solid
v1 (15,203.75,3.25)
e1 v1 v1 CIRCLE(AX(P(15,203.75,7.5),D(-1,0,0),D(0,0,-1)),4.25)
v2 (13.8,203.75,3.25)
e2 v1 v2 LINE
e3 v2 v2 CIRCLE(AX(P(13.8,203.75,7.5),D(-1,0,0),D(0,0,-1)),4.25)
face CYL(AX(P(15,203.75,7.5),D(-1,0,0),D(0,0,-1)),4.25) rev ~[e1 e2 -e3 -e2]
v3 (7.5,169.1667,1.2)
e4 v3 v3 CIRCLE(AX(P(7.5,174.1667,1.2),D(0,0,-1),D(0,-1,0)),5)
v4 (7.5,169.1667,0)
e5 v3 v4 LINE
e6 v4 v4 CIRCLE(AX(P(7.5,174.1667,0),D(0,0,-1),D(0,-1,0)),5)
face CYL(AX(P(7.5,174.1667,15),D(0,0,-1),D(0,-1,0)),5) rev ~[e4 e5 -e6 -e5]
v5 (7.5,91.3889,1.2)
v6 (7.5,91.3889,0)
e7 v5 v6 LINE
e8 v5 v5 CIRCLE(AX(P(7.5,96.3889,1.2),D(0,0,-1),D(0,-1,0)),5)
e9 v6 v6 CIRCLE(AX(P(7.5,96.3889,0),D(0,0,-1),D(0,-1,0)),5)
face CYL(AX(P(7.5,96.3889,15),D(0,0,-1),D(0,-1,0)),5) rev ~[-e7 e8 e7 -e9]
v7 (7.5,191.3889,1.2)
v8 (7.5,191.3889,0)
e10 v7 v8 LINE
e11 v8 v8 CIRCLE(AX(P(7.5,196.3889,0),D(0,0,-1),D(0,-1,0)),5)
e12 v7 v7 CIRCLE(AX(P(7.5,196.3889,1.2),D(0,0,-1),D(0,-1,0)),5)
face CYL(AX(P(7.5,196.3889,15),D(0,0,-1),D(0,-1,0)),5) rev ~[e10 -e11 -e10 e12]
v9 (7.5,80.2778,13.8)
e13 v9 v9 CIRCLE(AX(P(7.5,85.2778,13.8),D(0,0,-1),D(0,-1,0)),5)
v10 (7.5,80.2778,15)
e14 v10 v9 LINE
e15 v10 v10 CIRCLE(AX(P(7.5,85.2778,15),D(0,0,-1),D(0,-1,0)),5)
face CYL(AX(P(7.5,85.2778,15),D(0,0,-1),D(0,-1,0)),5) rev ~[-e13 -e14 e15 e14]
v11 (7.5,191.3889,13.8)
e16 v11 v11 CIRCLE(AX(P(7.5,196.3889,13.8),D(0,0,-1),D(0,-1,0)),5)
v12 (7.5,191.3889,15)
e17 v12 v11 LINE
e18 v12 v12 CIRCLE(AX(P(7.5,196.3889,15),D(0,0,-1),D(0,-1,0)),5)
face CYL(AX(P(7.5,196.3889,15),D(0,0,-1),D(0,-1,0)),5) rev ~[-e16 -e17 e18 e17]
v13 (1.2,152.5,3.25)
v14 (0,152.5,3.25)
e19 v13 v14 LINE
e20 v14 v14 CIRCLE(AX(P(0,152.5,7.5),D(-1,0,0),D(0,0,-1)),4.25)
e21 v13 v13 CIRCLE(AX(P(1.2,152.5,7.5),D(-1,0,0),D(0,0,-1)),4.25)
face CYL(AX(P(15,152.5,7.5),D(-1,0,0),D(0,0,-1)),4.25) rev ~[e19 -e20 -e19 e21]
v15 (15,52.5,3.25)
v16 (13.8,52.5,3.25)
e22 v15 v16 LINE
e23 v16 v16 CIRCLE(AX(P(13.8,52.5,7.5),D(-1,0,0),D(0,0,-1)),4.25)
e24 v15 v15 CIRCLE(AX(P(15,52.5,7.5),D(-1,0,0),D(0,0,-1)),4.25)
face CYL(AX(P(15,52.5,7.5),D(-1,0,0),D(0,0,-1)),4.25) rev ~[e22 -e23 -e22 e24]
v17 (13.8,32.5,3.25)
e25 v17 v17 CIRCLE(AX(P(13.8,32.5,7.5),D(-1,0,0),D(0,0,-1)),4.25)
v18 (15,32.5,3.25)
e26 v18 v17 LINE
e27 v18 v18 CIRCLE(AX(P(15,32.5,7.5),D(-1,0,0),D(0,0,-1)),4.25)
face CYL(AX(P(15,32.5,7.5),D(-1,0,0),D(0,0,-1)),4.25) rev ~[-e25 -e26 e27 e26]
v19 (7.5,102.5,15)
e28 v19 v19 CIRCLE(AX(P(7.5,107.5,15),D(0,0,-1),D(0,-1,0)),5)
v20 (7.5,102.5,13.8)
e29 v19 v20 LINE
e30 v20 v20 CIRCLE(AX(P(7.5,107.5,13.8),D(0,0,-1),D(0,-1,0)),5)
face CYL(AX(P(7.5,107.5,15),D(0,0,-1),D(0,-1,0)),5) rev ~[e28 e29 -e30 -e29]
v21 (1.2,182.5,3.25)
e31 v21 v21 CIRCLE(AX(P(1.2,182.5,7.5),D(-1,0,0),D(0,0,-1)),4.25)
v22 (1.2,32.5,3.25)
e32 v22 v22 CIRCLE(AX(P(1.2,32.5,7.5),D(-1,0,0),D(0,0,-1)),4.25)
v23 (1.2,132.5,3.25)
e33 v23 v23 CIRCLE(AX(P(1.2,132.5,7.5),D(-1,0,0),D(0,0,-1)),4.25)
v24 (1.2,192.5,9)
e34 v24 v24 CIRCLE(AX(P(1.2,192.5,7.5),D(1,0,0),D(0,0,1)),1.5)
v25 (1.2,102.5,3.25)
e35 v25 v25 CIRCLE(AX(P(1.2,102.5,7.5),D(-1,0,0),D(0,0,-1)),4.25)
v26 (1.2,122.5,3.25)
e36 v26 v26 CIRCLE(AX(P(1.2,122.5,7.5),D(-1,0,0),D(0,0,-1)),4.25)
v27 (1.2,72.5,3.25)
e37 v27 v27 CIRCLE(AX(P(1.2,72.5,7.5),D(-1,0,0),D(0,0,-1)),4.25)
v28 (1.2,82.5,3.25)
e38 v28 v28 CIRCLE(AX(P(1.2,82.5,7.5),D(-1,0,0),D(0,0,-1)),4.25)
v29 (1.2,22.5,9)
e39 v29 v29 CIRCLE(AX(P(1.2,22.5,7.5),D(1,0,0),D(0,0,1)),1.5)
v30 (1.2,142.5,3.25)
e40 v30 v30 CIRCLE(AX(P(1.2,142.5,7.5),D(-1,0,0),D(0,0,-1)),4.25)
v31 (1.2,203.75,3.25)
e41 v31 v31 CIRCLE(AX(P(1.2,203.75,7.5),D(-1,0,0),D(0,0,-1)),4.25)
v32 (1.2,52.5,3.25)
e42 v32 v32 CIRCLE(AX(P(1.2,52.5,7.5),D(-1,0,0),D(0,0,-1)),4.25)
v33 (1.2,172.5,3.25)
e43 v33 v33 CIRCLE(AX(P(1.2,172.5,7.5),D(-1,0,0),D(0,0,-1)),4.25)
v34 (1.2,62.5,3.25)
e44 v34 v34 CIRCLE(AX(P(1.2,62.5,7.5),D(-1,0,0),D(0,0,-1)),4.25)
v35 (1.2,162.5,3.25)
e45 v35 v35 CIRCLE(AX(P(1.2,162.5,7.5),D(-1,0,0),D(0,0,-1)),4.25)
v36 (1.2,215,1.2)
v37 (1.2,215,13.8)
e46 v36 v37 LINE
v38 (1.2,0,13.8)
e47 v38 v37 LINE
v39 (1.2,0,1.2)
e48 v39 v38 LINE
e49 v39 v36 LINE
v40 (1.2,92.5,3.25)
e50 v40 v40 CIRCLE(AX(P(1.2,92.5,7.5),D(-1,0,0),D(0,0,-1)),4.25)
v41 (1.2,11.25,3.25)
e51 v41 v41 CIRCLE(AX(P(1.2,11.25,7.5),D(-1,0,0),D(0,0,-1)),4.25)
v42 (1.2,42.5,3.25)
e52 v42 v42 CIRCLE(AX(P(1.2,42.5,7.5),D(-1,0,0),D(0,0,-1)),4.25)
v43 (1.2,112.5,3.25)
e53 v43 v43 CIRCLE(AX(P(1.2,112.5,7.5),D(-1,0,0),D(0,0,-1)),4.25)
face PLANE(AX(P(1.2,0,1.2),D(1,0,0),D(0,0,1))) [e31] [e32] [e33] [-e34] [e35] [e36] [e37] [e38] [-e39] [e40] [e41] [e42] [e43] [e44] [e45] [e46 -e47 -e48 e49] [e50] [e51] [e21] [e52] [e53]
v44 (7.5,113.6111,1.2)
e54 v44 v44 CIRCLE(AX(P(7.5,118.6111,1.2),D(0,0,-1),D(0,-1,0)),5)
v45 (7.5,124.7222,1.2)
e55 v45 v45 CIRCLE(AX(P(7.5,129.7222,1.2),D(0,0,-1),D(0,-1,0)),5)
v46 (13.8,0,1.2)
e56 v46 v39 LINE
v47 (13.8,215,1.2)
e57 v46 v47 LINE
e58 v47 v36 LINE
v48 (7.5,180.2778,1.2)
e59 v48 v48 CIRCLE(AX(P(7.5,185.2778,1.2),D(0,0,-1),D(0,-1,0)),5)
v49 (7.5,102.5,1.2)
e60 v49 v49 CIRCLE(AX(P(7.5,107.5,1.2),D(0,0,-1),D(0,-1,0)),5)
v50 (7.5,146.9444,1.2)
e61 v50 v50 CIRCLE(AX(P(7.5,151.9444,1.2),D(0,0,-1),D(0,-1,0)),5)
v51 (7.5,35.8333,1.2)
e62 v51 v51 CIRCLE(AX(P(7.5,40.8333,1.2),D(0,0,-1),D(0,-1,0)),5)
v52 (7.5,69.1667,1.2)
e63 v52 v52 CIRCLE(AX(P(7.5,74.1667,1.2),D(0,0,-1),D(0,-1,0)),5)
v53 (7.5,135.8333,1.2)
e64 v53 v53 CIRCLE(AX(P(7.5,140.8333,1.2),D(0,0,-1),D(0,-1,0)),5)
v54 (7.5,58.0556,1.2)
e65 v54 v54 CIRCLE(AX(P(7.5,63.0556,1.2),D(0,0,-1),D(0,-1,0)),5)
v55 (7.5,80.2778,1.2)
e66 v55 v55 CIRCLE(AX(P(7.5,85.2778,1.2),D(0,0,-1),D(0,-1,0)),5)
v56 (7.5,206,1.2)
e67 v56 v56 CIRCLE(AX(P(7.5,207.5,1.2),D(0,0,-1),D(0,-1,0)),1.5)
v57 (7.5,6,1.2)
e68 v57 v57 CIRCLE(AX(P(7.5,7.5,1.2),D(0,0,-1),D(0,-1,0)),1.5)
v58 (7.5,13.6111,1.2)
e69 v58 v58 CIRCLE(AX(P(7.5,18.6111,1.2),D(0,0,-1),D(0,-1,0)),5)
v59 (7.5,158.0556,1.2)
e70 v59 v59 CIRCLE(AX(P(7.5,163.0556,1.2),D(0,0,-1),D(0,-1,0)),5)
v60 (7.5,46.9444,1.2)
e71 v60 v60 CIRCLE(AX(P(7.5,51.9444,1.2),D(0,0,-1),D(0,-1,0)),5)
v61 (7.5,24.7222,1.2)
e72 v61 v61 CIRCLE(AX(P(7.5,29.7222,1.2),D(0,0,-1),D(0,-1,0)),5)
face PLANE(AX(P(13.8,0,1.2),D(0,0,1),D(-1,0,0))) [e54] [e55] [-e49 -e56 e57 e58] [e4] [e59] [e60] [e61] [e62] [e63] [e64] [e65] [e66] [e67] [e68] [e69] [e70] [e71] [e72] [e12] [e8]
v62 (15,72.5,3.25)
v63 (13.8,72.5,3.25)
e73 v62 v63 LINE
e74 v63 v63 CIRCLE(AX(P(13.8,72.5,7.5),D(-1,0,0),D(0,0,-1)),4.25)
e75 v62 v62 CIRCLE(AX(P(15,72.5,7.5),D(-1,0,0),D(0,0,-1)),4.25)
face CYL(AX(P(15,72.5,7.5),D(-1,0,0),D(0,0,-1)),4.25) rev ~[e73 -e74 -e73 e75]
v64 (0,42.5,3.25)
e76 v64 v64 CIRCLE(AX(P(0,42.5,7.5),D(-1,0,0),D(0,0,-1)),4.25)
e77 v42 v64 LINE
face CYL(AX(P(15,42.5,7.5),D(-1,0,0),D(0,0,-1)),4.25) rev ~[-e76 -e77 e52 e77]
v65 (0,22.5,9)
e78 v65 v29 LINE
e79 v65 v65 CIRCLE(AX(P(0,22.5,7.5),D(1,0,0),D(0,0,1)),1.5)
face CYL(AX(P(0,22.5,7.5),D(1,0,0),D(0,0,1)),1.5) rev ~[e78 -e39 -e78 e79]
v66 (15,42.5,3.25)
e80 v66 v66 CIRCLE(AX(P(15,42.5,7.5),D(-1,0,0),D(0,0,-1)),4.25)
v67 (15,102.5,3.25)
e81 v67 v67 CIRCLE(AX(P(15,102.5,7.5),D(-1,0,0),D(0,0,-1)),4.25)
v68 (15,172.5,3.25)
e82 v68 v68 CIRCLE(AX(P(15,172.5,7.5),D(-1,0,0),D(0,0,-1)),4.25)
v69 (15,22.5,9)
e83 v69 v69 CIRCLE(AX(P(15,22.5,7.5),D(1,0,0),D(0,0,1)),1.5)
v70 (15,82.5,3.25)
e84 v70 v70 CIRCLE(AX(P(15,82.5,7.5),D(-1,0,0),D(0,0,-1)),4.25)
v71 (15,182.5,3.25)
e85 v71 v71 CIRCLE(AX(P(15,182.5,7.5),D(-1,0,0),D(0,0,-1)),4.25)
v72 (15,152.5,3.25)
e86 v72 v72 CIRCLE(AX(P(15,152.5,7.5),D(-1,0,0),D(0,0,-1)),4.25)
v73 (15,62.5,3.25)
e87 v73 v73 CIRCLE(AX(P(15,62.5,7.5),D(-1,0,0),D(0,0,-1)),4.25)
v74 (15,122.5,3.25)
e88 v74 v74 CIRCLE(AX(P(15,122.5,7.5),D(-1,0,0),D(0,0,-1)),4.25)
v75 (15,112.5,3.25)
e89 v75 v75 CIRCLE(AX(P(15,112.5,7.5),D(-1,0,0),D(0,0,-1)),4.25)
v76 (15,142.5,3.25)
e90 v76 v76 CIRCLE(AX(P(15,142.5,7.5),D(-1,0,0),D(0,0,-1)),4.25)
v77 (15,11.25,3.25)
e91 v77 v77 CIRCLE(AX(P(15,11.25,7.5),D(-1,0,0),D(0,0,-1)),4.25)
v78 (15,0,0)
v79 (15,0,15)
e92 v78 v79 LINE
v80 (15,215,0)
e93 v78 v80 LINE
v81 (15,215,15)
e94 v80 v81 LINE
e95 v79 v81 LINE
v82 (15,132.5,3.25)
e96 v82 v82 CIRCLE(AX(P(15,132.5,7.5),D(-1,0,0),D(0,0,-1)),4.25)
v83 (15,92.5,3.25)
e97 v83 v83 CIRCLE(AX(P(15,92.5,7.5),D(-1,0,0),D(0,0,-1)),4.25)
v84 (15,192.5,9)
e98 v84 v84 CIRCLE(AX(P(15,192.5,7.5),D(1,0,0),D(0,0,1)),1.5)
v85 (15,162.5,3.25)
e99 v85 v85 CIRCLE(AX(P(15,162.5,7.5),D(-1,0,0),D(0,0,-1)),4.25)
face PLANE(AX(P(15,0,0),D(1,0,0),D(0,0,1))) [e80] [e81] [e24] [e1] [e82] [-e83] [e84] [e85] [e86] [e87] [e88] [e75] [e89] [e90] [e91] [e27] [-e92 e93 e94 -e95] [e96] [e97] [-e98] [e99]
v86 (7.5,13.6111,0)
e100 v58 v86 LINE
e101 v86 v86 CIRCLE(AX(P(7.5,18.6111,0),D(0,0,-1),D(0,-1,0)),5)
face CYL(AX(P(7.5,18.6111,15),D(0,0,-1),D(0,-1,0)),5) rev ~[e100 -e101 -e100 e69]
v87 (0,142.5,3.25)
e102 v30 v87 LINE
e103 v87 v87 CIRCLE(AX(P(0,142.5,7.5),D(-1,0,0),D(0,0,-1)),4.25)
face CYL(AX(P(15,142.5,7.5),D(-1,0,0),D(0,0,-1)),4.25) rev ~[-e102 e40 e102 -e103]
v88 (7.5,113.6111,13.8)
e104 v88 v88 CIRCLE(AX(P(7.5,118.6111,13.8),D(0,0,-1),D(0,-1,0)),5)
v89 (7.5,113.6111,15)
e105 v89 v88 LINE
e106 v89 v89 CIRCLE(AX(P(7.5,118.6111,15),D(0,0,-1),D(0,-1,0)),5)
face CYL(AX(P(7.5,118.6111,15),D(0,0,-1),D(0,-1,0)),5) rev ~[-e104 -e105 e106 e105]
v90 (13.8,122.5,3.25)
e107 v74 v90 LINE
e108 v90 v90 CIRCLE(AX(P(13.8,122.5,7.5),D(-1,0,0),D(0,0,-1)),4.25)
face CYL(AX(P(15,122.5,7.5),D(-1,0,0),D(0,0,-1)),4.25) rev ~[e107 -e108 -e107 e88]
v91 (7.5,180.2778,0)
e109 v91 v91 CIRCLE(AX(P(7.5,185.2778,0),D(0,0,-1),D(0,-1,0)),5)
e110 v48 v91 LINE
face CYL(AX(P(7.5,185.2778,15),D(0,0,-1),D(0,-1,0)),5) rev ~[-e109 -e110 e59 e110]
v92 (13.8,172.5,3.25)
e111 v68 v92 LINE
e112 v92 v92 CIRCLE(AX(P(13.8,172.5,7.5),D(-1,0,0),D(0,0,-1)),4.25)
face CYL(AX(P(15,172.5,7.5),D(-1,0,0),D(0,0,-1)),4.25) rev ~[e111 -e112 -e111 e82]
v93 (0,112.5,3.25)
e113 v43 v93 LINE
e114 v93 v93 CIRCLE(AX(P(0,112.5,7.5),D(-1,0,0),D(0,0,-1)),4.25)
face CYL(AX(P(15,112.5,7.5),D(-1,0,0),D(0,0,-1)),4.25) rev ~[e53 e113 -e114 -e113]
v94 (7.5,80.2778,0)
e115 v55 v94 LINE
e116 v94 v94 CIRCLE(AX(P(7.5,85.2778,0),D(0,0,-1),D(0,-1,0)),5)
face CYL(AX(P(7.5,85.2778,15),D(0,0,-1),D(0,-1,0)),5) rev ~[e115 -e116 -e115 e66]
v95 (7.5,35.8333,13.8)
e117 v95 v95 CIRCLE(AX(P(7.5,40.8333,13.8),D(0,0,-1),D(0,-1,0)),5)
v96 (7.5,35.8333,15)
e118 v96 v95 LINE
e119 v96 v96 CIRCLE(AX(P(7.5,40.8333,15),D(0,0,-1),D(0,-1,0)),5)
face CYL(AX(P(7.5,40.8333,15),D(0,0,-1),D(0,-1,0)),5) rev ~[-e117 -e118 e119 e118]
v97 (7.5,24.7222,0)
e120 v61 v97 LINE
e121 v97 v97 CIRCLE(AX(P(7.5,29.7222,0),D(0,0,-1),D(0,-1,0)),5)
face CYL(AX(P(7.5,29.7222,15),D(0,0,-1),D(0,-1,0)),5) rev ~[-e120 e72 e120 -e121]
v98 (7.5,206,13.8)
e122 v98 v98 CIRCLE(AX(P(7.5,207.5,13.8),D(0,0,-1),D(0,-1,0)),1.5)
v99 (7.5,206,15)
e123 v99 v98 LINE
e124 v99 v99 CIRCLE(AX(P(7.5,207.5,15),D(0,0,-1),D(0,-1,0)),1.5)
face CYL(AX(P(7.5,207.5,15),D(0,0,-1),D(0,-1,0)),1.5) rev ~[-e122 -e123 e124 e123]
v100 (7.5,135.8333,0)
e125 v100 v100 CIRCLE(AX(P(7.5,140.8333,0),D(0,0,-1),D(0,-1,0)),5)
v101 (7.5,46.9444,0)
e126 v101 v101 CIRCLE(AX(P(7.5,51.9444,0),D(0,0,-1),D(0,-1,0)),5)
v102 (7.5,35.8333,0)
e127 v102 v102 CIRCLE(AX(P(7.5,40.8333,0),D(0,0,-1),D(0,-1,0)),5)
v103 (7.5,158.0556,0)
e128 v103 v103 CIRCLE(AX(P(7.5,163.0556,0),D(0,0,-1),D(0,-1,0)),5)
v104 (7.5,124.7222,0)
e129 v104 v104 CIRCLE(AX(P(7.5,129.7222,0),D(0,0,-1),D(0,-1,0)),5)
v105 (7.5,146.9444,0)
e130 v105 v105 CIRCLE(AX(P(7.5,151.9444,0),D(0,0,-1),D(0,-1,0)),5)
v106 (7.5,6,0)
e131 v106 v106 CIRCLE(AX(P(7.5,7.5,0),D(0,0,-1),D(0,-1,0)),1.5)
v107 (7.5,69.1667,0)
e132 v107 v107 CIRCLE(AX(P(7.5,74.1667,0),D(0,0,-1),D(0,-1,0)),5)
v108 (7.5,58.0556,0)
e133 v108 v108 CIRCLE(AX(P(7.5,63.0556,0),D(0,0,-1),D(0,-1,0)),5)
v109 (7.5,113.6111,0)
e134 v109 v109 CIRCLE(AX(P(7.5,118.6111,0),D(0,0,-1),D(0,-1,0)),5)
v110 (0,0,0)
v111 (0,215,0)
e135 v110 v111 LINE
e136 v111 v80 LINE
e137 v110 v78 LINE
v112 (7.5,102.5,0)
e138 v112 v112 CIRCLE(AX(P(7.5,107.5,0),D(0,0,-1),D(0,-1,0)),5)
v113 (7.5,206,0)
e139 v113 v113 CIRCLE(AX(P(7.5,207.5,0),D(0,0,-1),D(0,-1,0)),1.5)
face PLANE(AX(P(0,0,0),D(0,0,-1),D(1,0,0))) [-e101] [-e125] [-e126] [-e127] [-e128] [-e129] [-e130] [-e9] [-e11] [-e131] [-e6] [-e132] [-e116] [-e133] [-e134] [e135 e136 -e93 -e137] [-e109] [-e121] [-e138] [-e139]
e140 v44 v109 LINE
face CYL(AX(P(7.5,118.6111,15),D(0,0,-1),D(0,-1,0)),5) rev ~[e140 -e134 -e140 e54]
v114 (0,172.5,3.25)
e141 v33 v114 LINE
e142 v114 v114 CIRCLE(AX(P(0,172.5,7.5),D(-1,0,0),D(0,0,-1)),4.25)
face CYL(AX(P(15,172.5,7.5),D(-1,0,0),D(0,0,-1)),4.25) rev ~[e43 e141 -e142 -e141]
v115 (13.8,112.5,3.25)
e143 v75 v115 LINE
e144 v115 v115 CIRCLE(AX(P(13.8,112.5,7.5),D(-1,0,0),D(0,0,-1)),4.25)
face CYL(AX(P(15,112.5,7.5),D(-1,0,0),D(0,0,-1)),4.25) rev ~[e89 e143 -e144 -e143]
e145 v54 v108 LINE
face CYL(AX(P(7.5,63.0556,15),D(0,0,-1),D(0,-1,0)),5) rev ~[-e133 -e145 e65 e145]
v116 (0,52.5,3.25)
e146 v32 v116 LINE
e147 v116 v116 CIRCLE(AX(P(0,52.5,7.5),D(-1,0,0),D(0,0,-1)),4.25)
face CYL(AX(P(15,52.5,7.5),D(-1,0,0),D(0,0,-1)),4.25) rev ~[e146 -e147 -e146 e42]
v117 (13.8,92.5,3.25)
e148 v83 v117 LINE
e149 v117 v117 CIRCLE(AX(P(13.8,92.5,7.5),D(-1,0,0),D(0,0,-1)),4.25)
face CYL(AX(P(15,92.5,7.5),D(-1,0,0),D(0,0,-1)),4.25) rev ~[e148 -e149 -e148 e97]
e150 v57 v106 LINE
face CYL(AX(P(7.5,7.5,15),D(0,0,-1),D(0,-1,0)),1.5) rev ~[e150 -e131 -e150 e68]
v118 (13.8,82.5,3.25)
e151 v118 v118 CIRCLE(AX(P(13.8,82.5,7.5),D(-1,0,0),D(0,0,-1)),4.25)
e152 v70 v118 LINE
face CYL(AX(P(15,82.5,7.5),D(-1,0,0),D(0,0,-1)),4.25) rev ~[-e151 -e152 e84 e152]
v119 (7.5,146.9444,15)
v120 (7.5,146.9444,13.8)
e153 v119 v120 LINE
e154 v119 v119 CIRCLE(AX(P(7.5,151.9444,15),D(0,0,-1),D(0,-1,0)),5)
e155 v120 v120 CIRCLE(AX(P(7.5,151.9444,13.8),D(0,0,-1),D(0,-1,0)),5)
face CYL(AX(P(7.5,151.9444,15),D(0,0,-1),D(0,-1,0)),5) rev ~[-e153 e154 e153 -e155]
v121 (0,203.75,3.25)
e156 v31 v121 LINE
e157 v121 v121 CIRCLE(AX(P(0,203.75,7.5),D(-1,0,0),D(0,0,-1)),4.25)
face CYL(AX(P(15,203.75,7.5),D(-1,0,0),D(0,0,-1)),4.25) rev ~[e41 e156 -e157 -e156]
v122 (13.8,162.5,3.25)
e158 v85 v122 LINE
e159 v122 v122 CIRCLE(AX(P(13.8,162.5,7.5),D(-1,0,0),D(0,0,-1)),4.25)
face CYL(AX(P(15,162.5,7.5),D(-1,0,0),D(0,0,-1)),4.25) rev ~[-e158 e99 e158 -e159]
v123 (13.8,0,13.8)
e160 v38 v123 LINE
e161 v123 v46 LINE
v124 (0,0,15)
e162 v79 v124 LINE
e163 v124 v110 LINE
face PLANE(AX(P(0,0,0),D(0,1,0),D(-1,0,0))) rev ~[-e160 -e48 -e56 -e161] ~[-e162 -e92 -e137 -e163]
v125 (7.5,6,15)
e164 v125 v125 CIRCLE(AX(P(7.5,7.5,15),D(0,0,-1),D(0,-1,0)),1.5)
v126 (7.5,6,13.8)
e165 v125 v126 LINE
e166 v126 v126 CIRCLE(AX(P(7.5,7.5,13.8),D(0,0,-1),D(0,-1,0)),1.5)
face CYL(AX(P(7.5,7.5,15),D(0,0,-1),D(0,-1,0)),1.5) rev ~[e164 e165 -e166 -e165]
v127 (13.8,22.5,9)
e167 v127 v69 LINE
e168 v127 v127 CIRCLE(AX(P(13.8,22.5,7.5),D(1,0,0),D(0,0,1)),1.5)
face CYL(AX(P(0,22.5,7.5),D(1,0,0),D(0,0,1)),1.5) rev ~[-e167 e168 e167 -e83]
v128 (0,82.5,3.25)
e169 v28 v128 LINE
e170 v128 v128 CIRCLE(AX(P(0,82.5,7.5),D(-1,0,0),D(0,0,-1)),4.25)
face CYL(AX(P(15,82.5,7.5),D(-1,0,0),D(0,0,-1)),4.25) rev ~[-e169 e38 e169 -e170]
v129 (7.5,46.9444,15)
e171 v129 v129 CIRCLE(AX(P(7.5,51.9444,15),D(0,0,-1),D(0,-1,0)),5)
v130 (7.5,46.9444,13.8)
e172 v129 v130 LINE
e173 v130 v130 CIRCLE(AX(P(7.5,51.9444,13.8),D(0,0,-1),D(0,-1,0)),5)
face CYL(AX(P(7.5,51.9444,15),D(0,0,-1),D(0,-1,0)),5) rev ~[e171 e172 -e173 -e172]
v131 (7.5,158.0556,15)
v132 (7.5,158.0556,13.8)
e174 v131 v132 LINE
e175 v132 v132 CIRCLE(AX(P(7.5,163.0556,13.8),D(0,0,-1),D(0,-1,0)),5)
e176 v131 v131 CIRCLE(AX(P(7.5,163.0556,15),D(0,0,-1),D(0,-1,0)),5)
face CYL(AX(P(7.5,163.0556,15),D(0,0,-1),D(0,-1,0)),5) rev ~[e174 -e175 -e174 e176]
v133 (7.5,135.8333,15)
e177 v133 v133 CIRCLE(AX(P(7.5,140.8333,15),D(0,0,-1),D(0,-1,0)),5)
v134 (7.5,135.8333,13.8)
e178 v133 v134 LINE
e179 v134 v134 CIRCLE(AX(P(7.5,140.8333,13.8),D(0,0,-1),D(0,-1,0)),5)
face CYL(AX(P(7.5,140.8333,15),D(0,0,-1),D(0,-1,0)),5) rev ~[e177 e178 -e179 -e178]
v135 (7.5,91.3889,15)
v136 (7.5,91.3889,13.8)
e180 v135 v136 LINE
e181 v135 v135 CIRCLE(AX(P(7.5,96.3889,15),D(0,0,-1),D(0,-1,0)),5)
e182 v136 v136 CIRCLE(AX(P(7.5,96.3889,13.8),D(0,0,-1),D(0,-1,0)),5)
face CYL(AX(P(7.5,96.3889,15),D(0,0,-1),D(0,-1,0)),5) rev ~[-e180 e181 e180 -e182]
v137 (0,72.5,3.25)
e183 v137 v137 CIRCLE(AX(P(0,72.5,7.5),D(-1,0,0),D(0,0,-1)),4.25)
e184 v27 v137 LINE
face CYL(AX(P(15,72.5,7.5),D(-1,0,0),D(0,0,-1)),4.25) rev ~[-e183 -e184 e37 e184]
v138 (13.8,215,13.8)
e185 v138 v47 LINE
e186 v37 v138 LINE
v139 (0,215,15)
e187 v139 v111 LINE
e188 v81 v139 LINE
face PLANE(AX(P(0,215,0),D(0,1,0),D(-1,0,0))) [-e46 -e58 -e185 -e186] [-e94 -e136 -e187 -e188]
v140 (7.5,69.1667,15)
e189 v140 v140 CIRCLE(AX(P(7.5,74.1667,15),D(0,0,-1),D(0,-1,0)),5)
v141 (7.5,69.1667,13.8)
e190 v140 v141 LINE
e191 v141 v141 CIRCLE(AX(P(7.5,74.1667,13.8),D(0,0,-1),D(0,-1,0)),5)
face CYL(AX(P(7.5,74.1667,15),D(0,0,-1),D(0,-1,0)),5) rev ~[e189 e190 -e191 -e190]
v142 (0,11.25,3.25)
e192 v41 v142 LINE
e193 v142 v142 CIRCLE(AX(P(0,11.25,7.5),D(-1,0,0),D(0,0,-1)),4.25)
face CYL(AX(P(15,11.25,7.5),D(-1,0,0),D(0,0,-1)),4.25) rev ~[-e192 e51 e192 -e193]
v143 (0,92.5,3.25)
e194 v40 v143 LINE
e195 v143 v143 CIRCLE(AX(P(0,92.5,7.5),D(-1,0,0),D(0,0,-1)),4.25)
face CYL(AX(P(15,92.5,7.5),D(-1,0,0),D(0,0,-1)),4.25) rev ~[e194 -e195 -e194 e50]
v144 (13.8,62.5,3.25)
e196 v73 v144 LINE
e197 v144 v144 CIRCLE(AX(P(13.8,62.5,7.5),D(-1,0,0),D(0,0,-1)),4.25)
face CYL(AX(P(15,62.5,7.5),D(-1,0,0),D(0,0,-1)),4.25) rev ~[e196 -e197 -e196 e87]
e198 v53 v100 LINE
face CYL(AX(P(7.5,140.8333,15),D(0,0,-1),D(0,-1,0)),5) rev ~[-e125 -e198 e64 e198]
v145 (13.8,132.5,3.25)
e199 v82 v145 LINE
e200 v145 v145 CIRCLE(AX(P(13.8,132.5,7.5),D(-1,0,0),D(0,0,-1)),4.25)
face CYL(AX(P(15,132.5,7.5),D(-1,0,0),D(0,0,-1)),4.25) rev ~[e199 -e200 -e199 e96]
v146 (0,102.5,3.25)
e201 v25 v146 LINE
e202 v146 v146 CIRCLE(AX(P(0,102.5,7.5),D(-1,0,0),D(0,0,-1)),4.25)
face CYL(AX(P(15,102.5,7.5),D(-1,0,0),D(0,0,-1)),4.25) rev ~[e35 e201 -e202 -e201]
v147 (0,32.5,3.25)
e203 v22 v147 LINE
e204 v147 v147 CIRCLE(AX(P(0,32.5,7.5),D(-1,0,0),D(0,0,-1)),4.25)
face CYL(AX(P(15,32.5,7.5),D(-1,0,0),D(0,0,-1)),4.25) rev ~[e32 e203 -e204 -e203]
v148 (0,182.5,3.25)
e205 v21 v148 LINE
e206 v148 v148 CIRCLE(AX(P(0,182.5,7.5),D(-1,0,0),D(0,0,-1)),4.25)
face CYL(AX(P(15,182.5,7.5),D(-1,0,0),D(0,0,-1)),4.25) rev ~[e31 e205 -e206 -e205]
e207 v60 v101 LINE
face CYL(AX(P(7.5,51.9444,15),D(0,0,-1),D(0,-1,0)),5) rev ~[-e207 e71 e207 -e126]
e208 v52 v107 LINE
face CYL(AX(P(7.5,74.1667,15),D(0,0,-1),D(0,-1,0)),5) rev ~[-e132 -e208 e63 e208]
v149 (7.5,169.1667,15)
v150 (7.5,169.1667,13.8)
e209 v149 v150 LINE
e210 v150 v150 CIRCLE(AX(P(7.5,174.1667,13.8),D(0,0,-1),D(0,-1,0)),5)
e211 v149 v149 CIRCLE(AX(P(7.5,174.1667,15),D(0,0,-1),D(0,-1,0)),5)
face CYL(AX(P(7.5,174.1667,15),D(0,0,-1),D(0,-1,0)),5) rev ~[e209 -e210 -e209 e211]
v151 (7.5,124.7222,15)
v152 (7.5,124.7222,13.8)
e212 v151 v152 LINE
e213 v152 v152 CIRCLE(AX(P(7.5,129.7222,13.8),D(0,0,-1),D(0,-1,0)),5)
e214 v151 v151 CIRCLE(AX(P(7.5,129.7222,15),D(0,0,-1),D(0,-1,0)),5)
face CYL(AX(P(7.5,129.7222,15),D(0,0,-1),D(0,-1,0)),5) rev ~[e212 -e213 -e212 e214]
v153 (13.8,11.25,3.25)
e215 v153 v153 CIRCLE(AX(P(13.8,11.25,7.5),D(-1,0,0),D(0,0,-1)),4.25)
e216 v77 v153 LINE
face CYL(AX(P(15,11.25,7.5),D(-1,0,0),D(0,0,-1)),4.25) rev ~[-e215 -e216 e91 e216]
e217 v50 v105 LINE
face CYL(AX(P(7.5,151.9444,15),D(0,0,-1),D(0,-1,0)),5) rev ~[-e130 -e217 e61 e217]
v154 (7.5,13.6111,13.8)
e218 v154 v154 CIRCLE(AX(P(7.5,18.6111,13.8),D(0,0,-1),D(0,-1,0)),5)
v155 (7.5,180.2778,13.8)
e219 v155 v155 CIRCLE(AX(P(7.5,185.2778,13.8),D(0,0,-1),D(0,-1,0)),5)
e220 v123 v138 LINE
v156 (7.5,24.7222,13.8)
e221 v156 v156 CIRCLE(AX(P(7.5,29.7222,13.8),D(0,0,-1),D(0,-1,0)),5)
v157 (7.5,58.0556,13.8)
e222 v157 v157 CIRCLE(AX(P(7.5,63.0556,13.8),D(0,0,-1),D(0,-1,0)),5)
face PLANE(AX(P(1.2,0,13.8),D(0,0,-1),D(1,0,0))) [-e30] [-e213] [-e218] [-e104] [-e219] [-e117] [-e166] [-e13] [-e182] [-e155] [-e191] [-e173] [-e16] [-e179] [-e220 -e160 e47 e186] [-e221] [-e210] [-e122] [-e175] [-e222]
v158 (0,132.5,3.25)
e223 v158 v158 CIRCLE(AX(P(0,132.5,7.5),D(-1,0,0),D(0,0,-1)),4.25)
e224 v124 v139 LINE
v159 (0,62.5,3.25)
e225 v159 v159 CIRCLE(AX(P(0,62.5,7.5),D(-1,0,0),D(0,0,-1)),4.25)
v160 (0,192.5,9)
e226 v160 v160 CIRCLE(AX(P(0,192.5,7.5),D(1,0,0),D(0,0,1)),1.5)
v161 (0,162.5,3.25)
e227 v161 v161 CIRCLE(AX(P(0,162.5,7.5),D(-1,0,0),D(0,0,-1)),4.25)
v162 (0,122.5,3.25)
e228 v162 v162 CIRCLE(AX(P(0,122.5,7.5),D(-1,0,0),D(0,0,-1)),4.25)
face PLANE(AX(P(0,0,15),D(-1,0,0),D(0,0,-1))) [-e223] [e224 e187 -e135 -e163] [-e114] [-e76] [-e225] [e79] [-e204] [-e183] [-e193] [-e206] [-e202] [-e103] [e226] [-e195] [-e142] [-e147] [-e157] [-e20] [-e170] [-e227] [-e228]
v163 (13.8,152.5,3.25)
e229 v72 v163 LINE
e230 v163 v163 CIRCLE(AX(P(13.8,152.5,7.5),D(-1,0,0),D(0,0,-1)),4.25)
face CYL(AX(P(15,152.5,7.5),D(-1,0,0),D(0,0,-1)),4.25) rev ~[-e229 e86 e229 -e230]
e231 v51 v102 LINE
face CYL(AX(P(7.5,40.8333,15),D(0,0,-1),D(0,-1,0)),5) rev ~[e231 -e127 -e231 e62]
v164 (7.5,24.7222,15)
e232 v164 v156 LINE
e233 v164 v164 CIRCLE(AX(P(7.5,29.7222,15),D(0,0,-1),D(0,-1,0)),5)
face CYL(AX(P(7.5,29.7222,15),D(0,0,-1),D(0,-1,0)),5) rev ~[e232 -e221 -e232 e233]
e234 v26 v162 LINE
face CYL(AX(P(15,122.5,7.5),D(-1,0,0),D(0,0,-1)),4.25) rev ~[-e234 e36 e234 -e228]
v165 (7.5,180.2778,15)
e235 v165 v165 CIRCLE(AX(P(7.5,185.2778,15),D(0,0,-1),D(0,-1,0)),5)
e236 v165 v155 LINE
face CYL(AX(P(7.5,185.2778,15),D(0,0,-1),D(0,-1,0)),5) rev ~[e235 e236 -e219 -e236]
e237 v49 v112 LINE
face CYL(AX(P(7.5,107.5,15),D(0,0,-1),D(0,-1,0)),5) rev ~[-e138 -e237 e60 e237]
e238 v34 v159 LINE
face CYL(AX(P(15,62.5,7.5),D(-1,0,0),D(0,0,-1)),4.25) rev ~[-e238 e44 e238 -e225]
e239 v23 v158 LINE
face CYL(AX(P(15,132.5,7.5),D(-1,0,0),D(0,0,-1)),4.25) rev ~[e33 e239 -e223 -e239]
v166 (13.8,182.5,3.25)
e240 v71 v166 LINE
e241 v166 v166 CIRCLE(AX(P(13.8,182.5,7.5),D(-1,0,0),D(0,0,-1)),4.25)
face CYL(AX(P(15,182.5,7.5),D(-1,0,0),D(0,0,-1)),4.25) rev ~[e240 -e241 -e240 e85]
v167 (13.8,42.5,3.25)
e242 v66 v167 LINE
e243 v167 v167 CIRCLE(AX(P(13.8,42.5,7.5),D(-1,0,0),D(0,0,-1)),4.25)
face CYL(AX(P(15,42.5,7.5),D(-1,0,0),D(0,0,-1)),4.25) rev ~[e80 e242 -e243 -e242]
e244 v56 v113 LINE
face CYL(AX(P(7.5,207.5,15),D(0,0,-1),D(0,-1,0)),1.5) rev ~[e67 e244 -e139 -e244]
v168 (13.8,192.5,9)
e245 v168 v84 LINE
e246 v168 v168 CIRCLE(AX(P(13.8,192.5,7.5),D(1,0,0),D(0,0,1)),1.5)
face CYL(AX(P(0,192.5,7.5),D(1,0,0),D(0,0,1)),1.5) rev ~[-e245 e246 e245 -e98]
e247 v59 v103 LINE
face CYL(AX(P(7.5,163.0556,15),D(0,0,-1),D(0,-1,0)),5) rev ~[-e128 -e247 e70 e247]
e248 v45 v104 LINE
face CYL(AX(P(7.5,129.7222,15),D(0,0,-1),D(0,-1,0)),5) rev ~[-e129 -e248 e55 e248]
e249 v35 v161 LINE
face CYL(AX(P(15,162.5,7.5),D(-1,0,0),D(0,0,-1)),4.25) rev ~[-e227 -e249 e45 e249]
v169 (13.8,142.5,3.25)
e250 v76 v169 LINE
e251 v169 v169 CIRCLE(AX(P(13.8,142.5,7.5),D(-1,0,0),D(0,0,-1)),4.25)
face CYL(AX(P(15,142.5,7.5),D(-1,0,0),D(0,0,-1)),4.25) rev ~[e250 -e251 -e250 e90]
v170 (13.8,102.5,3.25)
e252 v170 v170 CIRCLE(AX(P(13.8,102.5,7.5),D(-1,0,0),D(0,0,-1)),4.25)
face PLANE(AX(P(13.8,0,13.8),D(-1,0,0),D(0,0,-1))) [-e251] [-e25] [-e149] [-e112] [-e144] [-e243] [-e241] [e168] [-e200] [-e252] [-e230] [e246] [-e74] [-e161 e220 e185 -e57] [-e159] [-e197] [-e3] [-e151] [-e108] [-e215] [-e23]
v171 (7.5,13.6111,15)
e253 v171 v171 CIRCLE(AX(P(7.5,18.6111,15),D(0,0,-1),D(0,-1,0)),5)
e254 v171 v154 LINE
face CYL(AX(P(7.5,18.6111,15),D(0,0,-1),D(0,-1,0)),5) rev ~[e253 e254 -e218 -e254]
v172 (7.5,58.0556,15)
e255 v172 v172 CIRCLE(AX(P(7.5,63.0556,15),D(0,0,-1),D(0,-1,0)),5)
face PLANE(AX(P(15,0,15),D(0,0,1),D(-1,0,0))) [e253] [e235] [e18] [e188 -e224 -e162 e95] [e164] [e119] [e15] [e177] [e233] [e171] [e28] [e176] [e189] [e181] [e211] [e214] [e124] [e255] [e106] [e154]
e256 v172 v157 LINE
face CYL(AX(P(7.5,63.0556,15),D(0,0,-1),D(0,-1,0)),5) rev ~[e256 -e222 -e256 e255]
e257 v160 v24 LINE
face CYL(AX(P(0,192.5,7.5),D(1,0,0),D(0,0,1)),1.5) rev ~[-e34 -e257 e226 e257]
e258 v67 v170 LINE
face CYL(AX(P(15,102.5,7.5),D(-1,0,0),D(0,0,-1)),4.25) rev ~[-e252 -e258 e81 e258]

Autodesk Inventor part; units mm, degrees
ref_plane "YZ Plane" through (0, 0, 0) normal (1, 0, 0) x (0, 1, 0)
ref_plane "XZ Plane" through (0, 0, 0) normal (0, 1, 0) x (-1, 0, 0)
ref_plane "XY Plane" through (0, 0, 0) normal (0, 0, 1) x (1, 0, 0)
sketch "スケッチ1" plane through (0, 0, 0) normal (0, 1, 0) x (-1, 0, 0)
  line L0 (0, 0) -> (-15, 0)
  line L1 (-15, 0) -> (-15, 15)
  line L2 (-15, 15) -> (0, 15)
  line L3 (0, 15) -> (0, 0)
  line L4 (-1.2, 13.8) -> (-13.8, 13.8)
  line L5 (-13.8, 13.8) -> (-13.8, 1.2)
  line L6 (-13.8, 1.2) -> (-1.2, 1.2)
  line L7 (-1.2, 1.2) -> (-1.2, 13.8)
  dimension "d0" = 15
  dimension "d1" = 15
  dimension "d2" = 1.2
  dimension "d3" = 1.2
  dimension "d4" = 1.2
  dimension "d5" = 1.2
extrude "押し出し1" add sketch "スケッチ1" along normal blind 215
sketch "スケッチ2" plane through (0, 0, 15) normal (0, 0, 1) x (1, 0, 0)
  line L0 (0, 0) -> (0, 215) projected
  line L1 (0, 0) -> (15, 0) projected
  line L2 (0, 215) -> (15, 215) projected
  point P0 (7.5, 7.5)
  point P1 (7.5, 207.5)
  dimension "d8" = 7.5
  dimension "d9" = 7.5
  dimension "d10" = 7.5
  dimension "d11" = 7.5
hole "穴1" at (7.5, 7.5, 15) at (7.5, 207.5, 15) direction (0, 0, -1) diameter 3 end through all
sketch "スケッチ3" plane through (0, 0, 0) normal (-1, 0, 0) x (0, 0, 1)
  line L0 (0, 0) -> (0, 215) projected
  line L1 (0, 0) -> (15, 0) projected
  line L2 (0, 215) -> (15, 215) projected
  point P0 (7.5, 22.5)
  point P1 (7.5, 192.5)
  dimension "d19" = 7.5
  dimension "d20" = 7.5
  dimension "d21" = 22.5
  dimension "d22" = 22.5
hole "穴2" at (0, 22.5, 7.5) at (0, 192.5, 7.5) direction (1, 0, 0) diameter 3 end through all
sketch "スケッチ4" plane through (15, 0, 15) normal (1, 0, 0) x (0, 0, -1)
  line L0 (0, 0) -> (15, 0) projected
  circle A0 centre (7.5, 22.5) radius 1.5 projected
  line L1 (15, 0) -> (15, 215) projected
  line L2 (0, 215) -> (15, 215) projected
  circle A1 centre (7.5, 192.5) radius 1.5 projected
  point P0 (7.5, 11.25)
  point P1 (7.5, 203.75)
  point P2 (7.5, 182.5)
  point P3 (7.5, 172.5)
  point P4 (7.5, 162.5)
  point P5 (7.5, 152.5)
  point P6 (7.5, 142.5)
  point P7 (7.5, 132.5)
  point P8 (7.5, 122.5)
  point P9 (7.5, 112.5)
  point P10 (7.5, 102.5)
  point P11 (7.5, 92.5)
  point P12 (7.5, 82.5)
  point P13 (7.5, 72.5)
  point P14 (7.5, 62.5)
  point P15 (7.5, 52.5)
  point P16 (7.5, 42.5)
  point P17 (7.5, 32.5)
  dimension "d30" = 22.5
  dimension "d31" = 11.25
  dimension "d32" = 7.5
  dimension "d33" = 11.25
  dimension "d34" = 7.5
  dimension "d35" = 170
  dimension "d36" = 7.5
  dimension "d37" = 10
  dimension "d40" = 10
hole "穴3" at (15, 11.25, 7.5) at (15, 203.75, 7.5) at (15, 182.5, 7.5) at (15, 172.5, 7.5) at (15, 162.5, 7.5) at (15, 152.5, 7.5) at (15, 142.5, 7.5) at (15, 132.5, 7.5) at (15, 122.5, 7.5) at (15, 112.5, 7.5) at (15, 102.5, 7.5) at (15, 92.5, 7.5) at (15, 82.5, 7.5) at (15, 72.5, 7.5) at (15, 62.5, 7.5) at (15, 52.5, 7.5) at (15, 42.5, 7.5) at (15, 32.5, 7.5) direction (-1, 0, 0) diameter 8.5 end through all
sketch "スケッチ5" plane through (0, 0, 15) normal (0, 0, 1) x (1, 0, 0)
  circle A0 centre (7.5, 7.5) radius 1.5 projected
  circle A1 centre (7.5, 207.5) radius 1.5 projected
  line L0 (15, 0) -> (15, 215) projected
  point P0 (0, 0)
  point P1 (7.5, 196.3889)
  point P2 (7.5, 185.2778)
  point P3 (7.5, 174.1667)
  point P4 (7.5, 163.0556)
  point P5 (7.5, 151.9444)
  point P6 (7.5, 140.8333)
  point P7 (7.5, 129.7222)
  point P8 (7.5, 118.6111)
  point P9 (7.5, 107.5)
  point P10 (7.5, 96.3889)
  point P11 (7.5, 85.2778)
  point P12 (7.5, 74.1667)
  point P13 (7.5, 63.0556)
  point P14 (7.5, 51.9444)
  point P15 (7.5, 40.8333)
  point P16 (7.5, 29.7222)
  point P17 (7.5, 18.6111)
  dimension "d52" = 200
  dimension "d53" = 7.5
  dimension "d56" = 11.1111
  dimension "d61" = 11.1111
hole "穴4" at (7.5, 196.3889, 15) at (7.5, 185.2778, 15) at (7.5, 174.1667, 15) at (7.5, 163.0556, 15) at (7.5, 151.9444, 15) at (7.5, 140.8333, 15) at (7.5, 129.7222, 15) at (7.5, 118.6111, 15) at (7.5, 107.5, 15) at (7.5, 96.3889, 15) at (7.5, 85.2778, 15) at (7.5, 74.1667, 15) at (7.5, 63.0556, 15) at (7.5, 51.9444, 15) at (7.5, 40.8333, 15) at (7.5, 29.7222, 15) at (7.5, 18.6111, 15) direction (0, 0, -1) diameter 10 end through all
equation "\"d3\" = d2"
equation "\"d4\" = d3"
equation "\"d5\" = d2"
equation "\"d9\" = d8"
equation "\"d10\" = d8"
equation "\"d11\" = d9"
equation "\"d20\" = d19"
equation "\"d22\" = d21"
equation "\"d31\" = 0.5 * d30"
equation "\"d33\" = d31"
equation "\"d56\" = 0.0555556 * d52"
equation "\"d61\" = d56"
properties part number "ロボットベース15x15_2" material "アルミニウム 6061"
